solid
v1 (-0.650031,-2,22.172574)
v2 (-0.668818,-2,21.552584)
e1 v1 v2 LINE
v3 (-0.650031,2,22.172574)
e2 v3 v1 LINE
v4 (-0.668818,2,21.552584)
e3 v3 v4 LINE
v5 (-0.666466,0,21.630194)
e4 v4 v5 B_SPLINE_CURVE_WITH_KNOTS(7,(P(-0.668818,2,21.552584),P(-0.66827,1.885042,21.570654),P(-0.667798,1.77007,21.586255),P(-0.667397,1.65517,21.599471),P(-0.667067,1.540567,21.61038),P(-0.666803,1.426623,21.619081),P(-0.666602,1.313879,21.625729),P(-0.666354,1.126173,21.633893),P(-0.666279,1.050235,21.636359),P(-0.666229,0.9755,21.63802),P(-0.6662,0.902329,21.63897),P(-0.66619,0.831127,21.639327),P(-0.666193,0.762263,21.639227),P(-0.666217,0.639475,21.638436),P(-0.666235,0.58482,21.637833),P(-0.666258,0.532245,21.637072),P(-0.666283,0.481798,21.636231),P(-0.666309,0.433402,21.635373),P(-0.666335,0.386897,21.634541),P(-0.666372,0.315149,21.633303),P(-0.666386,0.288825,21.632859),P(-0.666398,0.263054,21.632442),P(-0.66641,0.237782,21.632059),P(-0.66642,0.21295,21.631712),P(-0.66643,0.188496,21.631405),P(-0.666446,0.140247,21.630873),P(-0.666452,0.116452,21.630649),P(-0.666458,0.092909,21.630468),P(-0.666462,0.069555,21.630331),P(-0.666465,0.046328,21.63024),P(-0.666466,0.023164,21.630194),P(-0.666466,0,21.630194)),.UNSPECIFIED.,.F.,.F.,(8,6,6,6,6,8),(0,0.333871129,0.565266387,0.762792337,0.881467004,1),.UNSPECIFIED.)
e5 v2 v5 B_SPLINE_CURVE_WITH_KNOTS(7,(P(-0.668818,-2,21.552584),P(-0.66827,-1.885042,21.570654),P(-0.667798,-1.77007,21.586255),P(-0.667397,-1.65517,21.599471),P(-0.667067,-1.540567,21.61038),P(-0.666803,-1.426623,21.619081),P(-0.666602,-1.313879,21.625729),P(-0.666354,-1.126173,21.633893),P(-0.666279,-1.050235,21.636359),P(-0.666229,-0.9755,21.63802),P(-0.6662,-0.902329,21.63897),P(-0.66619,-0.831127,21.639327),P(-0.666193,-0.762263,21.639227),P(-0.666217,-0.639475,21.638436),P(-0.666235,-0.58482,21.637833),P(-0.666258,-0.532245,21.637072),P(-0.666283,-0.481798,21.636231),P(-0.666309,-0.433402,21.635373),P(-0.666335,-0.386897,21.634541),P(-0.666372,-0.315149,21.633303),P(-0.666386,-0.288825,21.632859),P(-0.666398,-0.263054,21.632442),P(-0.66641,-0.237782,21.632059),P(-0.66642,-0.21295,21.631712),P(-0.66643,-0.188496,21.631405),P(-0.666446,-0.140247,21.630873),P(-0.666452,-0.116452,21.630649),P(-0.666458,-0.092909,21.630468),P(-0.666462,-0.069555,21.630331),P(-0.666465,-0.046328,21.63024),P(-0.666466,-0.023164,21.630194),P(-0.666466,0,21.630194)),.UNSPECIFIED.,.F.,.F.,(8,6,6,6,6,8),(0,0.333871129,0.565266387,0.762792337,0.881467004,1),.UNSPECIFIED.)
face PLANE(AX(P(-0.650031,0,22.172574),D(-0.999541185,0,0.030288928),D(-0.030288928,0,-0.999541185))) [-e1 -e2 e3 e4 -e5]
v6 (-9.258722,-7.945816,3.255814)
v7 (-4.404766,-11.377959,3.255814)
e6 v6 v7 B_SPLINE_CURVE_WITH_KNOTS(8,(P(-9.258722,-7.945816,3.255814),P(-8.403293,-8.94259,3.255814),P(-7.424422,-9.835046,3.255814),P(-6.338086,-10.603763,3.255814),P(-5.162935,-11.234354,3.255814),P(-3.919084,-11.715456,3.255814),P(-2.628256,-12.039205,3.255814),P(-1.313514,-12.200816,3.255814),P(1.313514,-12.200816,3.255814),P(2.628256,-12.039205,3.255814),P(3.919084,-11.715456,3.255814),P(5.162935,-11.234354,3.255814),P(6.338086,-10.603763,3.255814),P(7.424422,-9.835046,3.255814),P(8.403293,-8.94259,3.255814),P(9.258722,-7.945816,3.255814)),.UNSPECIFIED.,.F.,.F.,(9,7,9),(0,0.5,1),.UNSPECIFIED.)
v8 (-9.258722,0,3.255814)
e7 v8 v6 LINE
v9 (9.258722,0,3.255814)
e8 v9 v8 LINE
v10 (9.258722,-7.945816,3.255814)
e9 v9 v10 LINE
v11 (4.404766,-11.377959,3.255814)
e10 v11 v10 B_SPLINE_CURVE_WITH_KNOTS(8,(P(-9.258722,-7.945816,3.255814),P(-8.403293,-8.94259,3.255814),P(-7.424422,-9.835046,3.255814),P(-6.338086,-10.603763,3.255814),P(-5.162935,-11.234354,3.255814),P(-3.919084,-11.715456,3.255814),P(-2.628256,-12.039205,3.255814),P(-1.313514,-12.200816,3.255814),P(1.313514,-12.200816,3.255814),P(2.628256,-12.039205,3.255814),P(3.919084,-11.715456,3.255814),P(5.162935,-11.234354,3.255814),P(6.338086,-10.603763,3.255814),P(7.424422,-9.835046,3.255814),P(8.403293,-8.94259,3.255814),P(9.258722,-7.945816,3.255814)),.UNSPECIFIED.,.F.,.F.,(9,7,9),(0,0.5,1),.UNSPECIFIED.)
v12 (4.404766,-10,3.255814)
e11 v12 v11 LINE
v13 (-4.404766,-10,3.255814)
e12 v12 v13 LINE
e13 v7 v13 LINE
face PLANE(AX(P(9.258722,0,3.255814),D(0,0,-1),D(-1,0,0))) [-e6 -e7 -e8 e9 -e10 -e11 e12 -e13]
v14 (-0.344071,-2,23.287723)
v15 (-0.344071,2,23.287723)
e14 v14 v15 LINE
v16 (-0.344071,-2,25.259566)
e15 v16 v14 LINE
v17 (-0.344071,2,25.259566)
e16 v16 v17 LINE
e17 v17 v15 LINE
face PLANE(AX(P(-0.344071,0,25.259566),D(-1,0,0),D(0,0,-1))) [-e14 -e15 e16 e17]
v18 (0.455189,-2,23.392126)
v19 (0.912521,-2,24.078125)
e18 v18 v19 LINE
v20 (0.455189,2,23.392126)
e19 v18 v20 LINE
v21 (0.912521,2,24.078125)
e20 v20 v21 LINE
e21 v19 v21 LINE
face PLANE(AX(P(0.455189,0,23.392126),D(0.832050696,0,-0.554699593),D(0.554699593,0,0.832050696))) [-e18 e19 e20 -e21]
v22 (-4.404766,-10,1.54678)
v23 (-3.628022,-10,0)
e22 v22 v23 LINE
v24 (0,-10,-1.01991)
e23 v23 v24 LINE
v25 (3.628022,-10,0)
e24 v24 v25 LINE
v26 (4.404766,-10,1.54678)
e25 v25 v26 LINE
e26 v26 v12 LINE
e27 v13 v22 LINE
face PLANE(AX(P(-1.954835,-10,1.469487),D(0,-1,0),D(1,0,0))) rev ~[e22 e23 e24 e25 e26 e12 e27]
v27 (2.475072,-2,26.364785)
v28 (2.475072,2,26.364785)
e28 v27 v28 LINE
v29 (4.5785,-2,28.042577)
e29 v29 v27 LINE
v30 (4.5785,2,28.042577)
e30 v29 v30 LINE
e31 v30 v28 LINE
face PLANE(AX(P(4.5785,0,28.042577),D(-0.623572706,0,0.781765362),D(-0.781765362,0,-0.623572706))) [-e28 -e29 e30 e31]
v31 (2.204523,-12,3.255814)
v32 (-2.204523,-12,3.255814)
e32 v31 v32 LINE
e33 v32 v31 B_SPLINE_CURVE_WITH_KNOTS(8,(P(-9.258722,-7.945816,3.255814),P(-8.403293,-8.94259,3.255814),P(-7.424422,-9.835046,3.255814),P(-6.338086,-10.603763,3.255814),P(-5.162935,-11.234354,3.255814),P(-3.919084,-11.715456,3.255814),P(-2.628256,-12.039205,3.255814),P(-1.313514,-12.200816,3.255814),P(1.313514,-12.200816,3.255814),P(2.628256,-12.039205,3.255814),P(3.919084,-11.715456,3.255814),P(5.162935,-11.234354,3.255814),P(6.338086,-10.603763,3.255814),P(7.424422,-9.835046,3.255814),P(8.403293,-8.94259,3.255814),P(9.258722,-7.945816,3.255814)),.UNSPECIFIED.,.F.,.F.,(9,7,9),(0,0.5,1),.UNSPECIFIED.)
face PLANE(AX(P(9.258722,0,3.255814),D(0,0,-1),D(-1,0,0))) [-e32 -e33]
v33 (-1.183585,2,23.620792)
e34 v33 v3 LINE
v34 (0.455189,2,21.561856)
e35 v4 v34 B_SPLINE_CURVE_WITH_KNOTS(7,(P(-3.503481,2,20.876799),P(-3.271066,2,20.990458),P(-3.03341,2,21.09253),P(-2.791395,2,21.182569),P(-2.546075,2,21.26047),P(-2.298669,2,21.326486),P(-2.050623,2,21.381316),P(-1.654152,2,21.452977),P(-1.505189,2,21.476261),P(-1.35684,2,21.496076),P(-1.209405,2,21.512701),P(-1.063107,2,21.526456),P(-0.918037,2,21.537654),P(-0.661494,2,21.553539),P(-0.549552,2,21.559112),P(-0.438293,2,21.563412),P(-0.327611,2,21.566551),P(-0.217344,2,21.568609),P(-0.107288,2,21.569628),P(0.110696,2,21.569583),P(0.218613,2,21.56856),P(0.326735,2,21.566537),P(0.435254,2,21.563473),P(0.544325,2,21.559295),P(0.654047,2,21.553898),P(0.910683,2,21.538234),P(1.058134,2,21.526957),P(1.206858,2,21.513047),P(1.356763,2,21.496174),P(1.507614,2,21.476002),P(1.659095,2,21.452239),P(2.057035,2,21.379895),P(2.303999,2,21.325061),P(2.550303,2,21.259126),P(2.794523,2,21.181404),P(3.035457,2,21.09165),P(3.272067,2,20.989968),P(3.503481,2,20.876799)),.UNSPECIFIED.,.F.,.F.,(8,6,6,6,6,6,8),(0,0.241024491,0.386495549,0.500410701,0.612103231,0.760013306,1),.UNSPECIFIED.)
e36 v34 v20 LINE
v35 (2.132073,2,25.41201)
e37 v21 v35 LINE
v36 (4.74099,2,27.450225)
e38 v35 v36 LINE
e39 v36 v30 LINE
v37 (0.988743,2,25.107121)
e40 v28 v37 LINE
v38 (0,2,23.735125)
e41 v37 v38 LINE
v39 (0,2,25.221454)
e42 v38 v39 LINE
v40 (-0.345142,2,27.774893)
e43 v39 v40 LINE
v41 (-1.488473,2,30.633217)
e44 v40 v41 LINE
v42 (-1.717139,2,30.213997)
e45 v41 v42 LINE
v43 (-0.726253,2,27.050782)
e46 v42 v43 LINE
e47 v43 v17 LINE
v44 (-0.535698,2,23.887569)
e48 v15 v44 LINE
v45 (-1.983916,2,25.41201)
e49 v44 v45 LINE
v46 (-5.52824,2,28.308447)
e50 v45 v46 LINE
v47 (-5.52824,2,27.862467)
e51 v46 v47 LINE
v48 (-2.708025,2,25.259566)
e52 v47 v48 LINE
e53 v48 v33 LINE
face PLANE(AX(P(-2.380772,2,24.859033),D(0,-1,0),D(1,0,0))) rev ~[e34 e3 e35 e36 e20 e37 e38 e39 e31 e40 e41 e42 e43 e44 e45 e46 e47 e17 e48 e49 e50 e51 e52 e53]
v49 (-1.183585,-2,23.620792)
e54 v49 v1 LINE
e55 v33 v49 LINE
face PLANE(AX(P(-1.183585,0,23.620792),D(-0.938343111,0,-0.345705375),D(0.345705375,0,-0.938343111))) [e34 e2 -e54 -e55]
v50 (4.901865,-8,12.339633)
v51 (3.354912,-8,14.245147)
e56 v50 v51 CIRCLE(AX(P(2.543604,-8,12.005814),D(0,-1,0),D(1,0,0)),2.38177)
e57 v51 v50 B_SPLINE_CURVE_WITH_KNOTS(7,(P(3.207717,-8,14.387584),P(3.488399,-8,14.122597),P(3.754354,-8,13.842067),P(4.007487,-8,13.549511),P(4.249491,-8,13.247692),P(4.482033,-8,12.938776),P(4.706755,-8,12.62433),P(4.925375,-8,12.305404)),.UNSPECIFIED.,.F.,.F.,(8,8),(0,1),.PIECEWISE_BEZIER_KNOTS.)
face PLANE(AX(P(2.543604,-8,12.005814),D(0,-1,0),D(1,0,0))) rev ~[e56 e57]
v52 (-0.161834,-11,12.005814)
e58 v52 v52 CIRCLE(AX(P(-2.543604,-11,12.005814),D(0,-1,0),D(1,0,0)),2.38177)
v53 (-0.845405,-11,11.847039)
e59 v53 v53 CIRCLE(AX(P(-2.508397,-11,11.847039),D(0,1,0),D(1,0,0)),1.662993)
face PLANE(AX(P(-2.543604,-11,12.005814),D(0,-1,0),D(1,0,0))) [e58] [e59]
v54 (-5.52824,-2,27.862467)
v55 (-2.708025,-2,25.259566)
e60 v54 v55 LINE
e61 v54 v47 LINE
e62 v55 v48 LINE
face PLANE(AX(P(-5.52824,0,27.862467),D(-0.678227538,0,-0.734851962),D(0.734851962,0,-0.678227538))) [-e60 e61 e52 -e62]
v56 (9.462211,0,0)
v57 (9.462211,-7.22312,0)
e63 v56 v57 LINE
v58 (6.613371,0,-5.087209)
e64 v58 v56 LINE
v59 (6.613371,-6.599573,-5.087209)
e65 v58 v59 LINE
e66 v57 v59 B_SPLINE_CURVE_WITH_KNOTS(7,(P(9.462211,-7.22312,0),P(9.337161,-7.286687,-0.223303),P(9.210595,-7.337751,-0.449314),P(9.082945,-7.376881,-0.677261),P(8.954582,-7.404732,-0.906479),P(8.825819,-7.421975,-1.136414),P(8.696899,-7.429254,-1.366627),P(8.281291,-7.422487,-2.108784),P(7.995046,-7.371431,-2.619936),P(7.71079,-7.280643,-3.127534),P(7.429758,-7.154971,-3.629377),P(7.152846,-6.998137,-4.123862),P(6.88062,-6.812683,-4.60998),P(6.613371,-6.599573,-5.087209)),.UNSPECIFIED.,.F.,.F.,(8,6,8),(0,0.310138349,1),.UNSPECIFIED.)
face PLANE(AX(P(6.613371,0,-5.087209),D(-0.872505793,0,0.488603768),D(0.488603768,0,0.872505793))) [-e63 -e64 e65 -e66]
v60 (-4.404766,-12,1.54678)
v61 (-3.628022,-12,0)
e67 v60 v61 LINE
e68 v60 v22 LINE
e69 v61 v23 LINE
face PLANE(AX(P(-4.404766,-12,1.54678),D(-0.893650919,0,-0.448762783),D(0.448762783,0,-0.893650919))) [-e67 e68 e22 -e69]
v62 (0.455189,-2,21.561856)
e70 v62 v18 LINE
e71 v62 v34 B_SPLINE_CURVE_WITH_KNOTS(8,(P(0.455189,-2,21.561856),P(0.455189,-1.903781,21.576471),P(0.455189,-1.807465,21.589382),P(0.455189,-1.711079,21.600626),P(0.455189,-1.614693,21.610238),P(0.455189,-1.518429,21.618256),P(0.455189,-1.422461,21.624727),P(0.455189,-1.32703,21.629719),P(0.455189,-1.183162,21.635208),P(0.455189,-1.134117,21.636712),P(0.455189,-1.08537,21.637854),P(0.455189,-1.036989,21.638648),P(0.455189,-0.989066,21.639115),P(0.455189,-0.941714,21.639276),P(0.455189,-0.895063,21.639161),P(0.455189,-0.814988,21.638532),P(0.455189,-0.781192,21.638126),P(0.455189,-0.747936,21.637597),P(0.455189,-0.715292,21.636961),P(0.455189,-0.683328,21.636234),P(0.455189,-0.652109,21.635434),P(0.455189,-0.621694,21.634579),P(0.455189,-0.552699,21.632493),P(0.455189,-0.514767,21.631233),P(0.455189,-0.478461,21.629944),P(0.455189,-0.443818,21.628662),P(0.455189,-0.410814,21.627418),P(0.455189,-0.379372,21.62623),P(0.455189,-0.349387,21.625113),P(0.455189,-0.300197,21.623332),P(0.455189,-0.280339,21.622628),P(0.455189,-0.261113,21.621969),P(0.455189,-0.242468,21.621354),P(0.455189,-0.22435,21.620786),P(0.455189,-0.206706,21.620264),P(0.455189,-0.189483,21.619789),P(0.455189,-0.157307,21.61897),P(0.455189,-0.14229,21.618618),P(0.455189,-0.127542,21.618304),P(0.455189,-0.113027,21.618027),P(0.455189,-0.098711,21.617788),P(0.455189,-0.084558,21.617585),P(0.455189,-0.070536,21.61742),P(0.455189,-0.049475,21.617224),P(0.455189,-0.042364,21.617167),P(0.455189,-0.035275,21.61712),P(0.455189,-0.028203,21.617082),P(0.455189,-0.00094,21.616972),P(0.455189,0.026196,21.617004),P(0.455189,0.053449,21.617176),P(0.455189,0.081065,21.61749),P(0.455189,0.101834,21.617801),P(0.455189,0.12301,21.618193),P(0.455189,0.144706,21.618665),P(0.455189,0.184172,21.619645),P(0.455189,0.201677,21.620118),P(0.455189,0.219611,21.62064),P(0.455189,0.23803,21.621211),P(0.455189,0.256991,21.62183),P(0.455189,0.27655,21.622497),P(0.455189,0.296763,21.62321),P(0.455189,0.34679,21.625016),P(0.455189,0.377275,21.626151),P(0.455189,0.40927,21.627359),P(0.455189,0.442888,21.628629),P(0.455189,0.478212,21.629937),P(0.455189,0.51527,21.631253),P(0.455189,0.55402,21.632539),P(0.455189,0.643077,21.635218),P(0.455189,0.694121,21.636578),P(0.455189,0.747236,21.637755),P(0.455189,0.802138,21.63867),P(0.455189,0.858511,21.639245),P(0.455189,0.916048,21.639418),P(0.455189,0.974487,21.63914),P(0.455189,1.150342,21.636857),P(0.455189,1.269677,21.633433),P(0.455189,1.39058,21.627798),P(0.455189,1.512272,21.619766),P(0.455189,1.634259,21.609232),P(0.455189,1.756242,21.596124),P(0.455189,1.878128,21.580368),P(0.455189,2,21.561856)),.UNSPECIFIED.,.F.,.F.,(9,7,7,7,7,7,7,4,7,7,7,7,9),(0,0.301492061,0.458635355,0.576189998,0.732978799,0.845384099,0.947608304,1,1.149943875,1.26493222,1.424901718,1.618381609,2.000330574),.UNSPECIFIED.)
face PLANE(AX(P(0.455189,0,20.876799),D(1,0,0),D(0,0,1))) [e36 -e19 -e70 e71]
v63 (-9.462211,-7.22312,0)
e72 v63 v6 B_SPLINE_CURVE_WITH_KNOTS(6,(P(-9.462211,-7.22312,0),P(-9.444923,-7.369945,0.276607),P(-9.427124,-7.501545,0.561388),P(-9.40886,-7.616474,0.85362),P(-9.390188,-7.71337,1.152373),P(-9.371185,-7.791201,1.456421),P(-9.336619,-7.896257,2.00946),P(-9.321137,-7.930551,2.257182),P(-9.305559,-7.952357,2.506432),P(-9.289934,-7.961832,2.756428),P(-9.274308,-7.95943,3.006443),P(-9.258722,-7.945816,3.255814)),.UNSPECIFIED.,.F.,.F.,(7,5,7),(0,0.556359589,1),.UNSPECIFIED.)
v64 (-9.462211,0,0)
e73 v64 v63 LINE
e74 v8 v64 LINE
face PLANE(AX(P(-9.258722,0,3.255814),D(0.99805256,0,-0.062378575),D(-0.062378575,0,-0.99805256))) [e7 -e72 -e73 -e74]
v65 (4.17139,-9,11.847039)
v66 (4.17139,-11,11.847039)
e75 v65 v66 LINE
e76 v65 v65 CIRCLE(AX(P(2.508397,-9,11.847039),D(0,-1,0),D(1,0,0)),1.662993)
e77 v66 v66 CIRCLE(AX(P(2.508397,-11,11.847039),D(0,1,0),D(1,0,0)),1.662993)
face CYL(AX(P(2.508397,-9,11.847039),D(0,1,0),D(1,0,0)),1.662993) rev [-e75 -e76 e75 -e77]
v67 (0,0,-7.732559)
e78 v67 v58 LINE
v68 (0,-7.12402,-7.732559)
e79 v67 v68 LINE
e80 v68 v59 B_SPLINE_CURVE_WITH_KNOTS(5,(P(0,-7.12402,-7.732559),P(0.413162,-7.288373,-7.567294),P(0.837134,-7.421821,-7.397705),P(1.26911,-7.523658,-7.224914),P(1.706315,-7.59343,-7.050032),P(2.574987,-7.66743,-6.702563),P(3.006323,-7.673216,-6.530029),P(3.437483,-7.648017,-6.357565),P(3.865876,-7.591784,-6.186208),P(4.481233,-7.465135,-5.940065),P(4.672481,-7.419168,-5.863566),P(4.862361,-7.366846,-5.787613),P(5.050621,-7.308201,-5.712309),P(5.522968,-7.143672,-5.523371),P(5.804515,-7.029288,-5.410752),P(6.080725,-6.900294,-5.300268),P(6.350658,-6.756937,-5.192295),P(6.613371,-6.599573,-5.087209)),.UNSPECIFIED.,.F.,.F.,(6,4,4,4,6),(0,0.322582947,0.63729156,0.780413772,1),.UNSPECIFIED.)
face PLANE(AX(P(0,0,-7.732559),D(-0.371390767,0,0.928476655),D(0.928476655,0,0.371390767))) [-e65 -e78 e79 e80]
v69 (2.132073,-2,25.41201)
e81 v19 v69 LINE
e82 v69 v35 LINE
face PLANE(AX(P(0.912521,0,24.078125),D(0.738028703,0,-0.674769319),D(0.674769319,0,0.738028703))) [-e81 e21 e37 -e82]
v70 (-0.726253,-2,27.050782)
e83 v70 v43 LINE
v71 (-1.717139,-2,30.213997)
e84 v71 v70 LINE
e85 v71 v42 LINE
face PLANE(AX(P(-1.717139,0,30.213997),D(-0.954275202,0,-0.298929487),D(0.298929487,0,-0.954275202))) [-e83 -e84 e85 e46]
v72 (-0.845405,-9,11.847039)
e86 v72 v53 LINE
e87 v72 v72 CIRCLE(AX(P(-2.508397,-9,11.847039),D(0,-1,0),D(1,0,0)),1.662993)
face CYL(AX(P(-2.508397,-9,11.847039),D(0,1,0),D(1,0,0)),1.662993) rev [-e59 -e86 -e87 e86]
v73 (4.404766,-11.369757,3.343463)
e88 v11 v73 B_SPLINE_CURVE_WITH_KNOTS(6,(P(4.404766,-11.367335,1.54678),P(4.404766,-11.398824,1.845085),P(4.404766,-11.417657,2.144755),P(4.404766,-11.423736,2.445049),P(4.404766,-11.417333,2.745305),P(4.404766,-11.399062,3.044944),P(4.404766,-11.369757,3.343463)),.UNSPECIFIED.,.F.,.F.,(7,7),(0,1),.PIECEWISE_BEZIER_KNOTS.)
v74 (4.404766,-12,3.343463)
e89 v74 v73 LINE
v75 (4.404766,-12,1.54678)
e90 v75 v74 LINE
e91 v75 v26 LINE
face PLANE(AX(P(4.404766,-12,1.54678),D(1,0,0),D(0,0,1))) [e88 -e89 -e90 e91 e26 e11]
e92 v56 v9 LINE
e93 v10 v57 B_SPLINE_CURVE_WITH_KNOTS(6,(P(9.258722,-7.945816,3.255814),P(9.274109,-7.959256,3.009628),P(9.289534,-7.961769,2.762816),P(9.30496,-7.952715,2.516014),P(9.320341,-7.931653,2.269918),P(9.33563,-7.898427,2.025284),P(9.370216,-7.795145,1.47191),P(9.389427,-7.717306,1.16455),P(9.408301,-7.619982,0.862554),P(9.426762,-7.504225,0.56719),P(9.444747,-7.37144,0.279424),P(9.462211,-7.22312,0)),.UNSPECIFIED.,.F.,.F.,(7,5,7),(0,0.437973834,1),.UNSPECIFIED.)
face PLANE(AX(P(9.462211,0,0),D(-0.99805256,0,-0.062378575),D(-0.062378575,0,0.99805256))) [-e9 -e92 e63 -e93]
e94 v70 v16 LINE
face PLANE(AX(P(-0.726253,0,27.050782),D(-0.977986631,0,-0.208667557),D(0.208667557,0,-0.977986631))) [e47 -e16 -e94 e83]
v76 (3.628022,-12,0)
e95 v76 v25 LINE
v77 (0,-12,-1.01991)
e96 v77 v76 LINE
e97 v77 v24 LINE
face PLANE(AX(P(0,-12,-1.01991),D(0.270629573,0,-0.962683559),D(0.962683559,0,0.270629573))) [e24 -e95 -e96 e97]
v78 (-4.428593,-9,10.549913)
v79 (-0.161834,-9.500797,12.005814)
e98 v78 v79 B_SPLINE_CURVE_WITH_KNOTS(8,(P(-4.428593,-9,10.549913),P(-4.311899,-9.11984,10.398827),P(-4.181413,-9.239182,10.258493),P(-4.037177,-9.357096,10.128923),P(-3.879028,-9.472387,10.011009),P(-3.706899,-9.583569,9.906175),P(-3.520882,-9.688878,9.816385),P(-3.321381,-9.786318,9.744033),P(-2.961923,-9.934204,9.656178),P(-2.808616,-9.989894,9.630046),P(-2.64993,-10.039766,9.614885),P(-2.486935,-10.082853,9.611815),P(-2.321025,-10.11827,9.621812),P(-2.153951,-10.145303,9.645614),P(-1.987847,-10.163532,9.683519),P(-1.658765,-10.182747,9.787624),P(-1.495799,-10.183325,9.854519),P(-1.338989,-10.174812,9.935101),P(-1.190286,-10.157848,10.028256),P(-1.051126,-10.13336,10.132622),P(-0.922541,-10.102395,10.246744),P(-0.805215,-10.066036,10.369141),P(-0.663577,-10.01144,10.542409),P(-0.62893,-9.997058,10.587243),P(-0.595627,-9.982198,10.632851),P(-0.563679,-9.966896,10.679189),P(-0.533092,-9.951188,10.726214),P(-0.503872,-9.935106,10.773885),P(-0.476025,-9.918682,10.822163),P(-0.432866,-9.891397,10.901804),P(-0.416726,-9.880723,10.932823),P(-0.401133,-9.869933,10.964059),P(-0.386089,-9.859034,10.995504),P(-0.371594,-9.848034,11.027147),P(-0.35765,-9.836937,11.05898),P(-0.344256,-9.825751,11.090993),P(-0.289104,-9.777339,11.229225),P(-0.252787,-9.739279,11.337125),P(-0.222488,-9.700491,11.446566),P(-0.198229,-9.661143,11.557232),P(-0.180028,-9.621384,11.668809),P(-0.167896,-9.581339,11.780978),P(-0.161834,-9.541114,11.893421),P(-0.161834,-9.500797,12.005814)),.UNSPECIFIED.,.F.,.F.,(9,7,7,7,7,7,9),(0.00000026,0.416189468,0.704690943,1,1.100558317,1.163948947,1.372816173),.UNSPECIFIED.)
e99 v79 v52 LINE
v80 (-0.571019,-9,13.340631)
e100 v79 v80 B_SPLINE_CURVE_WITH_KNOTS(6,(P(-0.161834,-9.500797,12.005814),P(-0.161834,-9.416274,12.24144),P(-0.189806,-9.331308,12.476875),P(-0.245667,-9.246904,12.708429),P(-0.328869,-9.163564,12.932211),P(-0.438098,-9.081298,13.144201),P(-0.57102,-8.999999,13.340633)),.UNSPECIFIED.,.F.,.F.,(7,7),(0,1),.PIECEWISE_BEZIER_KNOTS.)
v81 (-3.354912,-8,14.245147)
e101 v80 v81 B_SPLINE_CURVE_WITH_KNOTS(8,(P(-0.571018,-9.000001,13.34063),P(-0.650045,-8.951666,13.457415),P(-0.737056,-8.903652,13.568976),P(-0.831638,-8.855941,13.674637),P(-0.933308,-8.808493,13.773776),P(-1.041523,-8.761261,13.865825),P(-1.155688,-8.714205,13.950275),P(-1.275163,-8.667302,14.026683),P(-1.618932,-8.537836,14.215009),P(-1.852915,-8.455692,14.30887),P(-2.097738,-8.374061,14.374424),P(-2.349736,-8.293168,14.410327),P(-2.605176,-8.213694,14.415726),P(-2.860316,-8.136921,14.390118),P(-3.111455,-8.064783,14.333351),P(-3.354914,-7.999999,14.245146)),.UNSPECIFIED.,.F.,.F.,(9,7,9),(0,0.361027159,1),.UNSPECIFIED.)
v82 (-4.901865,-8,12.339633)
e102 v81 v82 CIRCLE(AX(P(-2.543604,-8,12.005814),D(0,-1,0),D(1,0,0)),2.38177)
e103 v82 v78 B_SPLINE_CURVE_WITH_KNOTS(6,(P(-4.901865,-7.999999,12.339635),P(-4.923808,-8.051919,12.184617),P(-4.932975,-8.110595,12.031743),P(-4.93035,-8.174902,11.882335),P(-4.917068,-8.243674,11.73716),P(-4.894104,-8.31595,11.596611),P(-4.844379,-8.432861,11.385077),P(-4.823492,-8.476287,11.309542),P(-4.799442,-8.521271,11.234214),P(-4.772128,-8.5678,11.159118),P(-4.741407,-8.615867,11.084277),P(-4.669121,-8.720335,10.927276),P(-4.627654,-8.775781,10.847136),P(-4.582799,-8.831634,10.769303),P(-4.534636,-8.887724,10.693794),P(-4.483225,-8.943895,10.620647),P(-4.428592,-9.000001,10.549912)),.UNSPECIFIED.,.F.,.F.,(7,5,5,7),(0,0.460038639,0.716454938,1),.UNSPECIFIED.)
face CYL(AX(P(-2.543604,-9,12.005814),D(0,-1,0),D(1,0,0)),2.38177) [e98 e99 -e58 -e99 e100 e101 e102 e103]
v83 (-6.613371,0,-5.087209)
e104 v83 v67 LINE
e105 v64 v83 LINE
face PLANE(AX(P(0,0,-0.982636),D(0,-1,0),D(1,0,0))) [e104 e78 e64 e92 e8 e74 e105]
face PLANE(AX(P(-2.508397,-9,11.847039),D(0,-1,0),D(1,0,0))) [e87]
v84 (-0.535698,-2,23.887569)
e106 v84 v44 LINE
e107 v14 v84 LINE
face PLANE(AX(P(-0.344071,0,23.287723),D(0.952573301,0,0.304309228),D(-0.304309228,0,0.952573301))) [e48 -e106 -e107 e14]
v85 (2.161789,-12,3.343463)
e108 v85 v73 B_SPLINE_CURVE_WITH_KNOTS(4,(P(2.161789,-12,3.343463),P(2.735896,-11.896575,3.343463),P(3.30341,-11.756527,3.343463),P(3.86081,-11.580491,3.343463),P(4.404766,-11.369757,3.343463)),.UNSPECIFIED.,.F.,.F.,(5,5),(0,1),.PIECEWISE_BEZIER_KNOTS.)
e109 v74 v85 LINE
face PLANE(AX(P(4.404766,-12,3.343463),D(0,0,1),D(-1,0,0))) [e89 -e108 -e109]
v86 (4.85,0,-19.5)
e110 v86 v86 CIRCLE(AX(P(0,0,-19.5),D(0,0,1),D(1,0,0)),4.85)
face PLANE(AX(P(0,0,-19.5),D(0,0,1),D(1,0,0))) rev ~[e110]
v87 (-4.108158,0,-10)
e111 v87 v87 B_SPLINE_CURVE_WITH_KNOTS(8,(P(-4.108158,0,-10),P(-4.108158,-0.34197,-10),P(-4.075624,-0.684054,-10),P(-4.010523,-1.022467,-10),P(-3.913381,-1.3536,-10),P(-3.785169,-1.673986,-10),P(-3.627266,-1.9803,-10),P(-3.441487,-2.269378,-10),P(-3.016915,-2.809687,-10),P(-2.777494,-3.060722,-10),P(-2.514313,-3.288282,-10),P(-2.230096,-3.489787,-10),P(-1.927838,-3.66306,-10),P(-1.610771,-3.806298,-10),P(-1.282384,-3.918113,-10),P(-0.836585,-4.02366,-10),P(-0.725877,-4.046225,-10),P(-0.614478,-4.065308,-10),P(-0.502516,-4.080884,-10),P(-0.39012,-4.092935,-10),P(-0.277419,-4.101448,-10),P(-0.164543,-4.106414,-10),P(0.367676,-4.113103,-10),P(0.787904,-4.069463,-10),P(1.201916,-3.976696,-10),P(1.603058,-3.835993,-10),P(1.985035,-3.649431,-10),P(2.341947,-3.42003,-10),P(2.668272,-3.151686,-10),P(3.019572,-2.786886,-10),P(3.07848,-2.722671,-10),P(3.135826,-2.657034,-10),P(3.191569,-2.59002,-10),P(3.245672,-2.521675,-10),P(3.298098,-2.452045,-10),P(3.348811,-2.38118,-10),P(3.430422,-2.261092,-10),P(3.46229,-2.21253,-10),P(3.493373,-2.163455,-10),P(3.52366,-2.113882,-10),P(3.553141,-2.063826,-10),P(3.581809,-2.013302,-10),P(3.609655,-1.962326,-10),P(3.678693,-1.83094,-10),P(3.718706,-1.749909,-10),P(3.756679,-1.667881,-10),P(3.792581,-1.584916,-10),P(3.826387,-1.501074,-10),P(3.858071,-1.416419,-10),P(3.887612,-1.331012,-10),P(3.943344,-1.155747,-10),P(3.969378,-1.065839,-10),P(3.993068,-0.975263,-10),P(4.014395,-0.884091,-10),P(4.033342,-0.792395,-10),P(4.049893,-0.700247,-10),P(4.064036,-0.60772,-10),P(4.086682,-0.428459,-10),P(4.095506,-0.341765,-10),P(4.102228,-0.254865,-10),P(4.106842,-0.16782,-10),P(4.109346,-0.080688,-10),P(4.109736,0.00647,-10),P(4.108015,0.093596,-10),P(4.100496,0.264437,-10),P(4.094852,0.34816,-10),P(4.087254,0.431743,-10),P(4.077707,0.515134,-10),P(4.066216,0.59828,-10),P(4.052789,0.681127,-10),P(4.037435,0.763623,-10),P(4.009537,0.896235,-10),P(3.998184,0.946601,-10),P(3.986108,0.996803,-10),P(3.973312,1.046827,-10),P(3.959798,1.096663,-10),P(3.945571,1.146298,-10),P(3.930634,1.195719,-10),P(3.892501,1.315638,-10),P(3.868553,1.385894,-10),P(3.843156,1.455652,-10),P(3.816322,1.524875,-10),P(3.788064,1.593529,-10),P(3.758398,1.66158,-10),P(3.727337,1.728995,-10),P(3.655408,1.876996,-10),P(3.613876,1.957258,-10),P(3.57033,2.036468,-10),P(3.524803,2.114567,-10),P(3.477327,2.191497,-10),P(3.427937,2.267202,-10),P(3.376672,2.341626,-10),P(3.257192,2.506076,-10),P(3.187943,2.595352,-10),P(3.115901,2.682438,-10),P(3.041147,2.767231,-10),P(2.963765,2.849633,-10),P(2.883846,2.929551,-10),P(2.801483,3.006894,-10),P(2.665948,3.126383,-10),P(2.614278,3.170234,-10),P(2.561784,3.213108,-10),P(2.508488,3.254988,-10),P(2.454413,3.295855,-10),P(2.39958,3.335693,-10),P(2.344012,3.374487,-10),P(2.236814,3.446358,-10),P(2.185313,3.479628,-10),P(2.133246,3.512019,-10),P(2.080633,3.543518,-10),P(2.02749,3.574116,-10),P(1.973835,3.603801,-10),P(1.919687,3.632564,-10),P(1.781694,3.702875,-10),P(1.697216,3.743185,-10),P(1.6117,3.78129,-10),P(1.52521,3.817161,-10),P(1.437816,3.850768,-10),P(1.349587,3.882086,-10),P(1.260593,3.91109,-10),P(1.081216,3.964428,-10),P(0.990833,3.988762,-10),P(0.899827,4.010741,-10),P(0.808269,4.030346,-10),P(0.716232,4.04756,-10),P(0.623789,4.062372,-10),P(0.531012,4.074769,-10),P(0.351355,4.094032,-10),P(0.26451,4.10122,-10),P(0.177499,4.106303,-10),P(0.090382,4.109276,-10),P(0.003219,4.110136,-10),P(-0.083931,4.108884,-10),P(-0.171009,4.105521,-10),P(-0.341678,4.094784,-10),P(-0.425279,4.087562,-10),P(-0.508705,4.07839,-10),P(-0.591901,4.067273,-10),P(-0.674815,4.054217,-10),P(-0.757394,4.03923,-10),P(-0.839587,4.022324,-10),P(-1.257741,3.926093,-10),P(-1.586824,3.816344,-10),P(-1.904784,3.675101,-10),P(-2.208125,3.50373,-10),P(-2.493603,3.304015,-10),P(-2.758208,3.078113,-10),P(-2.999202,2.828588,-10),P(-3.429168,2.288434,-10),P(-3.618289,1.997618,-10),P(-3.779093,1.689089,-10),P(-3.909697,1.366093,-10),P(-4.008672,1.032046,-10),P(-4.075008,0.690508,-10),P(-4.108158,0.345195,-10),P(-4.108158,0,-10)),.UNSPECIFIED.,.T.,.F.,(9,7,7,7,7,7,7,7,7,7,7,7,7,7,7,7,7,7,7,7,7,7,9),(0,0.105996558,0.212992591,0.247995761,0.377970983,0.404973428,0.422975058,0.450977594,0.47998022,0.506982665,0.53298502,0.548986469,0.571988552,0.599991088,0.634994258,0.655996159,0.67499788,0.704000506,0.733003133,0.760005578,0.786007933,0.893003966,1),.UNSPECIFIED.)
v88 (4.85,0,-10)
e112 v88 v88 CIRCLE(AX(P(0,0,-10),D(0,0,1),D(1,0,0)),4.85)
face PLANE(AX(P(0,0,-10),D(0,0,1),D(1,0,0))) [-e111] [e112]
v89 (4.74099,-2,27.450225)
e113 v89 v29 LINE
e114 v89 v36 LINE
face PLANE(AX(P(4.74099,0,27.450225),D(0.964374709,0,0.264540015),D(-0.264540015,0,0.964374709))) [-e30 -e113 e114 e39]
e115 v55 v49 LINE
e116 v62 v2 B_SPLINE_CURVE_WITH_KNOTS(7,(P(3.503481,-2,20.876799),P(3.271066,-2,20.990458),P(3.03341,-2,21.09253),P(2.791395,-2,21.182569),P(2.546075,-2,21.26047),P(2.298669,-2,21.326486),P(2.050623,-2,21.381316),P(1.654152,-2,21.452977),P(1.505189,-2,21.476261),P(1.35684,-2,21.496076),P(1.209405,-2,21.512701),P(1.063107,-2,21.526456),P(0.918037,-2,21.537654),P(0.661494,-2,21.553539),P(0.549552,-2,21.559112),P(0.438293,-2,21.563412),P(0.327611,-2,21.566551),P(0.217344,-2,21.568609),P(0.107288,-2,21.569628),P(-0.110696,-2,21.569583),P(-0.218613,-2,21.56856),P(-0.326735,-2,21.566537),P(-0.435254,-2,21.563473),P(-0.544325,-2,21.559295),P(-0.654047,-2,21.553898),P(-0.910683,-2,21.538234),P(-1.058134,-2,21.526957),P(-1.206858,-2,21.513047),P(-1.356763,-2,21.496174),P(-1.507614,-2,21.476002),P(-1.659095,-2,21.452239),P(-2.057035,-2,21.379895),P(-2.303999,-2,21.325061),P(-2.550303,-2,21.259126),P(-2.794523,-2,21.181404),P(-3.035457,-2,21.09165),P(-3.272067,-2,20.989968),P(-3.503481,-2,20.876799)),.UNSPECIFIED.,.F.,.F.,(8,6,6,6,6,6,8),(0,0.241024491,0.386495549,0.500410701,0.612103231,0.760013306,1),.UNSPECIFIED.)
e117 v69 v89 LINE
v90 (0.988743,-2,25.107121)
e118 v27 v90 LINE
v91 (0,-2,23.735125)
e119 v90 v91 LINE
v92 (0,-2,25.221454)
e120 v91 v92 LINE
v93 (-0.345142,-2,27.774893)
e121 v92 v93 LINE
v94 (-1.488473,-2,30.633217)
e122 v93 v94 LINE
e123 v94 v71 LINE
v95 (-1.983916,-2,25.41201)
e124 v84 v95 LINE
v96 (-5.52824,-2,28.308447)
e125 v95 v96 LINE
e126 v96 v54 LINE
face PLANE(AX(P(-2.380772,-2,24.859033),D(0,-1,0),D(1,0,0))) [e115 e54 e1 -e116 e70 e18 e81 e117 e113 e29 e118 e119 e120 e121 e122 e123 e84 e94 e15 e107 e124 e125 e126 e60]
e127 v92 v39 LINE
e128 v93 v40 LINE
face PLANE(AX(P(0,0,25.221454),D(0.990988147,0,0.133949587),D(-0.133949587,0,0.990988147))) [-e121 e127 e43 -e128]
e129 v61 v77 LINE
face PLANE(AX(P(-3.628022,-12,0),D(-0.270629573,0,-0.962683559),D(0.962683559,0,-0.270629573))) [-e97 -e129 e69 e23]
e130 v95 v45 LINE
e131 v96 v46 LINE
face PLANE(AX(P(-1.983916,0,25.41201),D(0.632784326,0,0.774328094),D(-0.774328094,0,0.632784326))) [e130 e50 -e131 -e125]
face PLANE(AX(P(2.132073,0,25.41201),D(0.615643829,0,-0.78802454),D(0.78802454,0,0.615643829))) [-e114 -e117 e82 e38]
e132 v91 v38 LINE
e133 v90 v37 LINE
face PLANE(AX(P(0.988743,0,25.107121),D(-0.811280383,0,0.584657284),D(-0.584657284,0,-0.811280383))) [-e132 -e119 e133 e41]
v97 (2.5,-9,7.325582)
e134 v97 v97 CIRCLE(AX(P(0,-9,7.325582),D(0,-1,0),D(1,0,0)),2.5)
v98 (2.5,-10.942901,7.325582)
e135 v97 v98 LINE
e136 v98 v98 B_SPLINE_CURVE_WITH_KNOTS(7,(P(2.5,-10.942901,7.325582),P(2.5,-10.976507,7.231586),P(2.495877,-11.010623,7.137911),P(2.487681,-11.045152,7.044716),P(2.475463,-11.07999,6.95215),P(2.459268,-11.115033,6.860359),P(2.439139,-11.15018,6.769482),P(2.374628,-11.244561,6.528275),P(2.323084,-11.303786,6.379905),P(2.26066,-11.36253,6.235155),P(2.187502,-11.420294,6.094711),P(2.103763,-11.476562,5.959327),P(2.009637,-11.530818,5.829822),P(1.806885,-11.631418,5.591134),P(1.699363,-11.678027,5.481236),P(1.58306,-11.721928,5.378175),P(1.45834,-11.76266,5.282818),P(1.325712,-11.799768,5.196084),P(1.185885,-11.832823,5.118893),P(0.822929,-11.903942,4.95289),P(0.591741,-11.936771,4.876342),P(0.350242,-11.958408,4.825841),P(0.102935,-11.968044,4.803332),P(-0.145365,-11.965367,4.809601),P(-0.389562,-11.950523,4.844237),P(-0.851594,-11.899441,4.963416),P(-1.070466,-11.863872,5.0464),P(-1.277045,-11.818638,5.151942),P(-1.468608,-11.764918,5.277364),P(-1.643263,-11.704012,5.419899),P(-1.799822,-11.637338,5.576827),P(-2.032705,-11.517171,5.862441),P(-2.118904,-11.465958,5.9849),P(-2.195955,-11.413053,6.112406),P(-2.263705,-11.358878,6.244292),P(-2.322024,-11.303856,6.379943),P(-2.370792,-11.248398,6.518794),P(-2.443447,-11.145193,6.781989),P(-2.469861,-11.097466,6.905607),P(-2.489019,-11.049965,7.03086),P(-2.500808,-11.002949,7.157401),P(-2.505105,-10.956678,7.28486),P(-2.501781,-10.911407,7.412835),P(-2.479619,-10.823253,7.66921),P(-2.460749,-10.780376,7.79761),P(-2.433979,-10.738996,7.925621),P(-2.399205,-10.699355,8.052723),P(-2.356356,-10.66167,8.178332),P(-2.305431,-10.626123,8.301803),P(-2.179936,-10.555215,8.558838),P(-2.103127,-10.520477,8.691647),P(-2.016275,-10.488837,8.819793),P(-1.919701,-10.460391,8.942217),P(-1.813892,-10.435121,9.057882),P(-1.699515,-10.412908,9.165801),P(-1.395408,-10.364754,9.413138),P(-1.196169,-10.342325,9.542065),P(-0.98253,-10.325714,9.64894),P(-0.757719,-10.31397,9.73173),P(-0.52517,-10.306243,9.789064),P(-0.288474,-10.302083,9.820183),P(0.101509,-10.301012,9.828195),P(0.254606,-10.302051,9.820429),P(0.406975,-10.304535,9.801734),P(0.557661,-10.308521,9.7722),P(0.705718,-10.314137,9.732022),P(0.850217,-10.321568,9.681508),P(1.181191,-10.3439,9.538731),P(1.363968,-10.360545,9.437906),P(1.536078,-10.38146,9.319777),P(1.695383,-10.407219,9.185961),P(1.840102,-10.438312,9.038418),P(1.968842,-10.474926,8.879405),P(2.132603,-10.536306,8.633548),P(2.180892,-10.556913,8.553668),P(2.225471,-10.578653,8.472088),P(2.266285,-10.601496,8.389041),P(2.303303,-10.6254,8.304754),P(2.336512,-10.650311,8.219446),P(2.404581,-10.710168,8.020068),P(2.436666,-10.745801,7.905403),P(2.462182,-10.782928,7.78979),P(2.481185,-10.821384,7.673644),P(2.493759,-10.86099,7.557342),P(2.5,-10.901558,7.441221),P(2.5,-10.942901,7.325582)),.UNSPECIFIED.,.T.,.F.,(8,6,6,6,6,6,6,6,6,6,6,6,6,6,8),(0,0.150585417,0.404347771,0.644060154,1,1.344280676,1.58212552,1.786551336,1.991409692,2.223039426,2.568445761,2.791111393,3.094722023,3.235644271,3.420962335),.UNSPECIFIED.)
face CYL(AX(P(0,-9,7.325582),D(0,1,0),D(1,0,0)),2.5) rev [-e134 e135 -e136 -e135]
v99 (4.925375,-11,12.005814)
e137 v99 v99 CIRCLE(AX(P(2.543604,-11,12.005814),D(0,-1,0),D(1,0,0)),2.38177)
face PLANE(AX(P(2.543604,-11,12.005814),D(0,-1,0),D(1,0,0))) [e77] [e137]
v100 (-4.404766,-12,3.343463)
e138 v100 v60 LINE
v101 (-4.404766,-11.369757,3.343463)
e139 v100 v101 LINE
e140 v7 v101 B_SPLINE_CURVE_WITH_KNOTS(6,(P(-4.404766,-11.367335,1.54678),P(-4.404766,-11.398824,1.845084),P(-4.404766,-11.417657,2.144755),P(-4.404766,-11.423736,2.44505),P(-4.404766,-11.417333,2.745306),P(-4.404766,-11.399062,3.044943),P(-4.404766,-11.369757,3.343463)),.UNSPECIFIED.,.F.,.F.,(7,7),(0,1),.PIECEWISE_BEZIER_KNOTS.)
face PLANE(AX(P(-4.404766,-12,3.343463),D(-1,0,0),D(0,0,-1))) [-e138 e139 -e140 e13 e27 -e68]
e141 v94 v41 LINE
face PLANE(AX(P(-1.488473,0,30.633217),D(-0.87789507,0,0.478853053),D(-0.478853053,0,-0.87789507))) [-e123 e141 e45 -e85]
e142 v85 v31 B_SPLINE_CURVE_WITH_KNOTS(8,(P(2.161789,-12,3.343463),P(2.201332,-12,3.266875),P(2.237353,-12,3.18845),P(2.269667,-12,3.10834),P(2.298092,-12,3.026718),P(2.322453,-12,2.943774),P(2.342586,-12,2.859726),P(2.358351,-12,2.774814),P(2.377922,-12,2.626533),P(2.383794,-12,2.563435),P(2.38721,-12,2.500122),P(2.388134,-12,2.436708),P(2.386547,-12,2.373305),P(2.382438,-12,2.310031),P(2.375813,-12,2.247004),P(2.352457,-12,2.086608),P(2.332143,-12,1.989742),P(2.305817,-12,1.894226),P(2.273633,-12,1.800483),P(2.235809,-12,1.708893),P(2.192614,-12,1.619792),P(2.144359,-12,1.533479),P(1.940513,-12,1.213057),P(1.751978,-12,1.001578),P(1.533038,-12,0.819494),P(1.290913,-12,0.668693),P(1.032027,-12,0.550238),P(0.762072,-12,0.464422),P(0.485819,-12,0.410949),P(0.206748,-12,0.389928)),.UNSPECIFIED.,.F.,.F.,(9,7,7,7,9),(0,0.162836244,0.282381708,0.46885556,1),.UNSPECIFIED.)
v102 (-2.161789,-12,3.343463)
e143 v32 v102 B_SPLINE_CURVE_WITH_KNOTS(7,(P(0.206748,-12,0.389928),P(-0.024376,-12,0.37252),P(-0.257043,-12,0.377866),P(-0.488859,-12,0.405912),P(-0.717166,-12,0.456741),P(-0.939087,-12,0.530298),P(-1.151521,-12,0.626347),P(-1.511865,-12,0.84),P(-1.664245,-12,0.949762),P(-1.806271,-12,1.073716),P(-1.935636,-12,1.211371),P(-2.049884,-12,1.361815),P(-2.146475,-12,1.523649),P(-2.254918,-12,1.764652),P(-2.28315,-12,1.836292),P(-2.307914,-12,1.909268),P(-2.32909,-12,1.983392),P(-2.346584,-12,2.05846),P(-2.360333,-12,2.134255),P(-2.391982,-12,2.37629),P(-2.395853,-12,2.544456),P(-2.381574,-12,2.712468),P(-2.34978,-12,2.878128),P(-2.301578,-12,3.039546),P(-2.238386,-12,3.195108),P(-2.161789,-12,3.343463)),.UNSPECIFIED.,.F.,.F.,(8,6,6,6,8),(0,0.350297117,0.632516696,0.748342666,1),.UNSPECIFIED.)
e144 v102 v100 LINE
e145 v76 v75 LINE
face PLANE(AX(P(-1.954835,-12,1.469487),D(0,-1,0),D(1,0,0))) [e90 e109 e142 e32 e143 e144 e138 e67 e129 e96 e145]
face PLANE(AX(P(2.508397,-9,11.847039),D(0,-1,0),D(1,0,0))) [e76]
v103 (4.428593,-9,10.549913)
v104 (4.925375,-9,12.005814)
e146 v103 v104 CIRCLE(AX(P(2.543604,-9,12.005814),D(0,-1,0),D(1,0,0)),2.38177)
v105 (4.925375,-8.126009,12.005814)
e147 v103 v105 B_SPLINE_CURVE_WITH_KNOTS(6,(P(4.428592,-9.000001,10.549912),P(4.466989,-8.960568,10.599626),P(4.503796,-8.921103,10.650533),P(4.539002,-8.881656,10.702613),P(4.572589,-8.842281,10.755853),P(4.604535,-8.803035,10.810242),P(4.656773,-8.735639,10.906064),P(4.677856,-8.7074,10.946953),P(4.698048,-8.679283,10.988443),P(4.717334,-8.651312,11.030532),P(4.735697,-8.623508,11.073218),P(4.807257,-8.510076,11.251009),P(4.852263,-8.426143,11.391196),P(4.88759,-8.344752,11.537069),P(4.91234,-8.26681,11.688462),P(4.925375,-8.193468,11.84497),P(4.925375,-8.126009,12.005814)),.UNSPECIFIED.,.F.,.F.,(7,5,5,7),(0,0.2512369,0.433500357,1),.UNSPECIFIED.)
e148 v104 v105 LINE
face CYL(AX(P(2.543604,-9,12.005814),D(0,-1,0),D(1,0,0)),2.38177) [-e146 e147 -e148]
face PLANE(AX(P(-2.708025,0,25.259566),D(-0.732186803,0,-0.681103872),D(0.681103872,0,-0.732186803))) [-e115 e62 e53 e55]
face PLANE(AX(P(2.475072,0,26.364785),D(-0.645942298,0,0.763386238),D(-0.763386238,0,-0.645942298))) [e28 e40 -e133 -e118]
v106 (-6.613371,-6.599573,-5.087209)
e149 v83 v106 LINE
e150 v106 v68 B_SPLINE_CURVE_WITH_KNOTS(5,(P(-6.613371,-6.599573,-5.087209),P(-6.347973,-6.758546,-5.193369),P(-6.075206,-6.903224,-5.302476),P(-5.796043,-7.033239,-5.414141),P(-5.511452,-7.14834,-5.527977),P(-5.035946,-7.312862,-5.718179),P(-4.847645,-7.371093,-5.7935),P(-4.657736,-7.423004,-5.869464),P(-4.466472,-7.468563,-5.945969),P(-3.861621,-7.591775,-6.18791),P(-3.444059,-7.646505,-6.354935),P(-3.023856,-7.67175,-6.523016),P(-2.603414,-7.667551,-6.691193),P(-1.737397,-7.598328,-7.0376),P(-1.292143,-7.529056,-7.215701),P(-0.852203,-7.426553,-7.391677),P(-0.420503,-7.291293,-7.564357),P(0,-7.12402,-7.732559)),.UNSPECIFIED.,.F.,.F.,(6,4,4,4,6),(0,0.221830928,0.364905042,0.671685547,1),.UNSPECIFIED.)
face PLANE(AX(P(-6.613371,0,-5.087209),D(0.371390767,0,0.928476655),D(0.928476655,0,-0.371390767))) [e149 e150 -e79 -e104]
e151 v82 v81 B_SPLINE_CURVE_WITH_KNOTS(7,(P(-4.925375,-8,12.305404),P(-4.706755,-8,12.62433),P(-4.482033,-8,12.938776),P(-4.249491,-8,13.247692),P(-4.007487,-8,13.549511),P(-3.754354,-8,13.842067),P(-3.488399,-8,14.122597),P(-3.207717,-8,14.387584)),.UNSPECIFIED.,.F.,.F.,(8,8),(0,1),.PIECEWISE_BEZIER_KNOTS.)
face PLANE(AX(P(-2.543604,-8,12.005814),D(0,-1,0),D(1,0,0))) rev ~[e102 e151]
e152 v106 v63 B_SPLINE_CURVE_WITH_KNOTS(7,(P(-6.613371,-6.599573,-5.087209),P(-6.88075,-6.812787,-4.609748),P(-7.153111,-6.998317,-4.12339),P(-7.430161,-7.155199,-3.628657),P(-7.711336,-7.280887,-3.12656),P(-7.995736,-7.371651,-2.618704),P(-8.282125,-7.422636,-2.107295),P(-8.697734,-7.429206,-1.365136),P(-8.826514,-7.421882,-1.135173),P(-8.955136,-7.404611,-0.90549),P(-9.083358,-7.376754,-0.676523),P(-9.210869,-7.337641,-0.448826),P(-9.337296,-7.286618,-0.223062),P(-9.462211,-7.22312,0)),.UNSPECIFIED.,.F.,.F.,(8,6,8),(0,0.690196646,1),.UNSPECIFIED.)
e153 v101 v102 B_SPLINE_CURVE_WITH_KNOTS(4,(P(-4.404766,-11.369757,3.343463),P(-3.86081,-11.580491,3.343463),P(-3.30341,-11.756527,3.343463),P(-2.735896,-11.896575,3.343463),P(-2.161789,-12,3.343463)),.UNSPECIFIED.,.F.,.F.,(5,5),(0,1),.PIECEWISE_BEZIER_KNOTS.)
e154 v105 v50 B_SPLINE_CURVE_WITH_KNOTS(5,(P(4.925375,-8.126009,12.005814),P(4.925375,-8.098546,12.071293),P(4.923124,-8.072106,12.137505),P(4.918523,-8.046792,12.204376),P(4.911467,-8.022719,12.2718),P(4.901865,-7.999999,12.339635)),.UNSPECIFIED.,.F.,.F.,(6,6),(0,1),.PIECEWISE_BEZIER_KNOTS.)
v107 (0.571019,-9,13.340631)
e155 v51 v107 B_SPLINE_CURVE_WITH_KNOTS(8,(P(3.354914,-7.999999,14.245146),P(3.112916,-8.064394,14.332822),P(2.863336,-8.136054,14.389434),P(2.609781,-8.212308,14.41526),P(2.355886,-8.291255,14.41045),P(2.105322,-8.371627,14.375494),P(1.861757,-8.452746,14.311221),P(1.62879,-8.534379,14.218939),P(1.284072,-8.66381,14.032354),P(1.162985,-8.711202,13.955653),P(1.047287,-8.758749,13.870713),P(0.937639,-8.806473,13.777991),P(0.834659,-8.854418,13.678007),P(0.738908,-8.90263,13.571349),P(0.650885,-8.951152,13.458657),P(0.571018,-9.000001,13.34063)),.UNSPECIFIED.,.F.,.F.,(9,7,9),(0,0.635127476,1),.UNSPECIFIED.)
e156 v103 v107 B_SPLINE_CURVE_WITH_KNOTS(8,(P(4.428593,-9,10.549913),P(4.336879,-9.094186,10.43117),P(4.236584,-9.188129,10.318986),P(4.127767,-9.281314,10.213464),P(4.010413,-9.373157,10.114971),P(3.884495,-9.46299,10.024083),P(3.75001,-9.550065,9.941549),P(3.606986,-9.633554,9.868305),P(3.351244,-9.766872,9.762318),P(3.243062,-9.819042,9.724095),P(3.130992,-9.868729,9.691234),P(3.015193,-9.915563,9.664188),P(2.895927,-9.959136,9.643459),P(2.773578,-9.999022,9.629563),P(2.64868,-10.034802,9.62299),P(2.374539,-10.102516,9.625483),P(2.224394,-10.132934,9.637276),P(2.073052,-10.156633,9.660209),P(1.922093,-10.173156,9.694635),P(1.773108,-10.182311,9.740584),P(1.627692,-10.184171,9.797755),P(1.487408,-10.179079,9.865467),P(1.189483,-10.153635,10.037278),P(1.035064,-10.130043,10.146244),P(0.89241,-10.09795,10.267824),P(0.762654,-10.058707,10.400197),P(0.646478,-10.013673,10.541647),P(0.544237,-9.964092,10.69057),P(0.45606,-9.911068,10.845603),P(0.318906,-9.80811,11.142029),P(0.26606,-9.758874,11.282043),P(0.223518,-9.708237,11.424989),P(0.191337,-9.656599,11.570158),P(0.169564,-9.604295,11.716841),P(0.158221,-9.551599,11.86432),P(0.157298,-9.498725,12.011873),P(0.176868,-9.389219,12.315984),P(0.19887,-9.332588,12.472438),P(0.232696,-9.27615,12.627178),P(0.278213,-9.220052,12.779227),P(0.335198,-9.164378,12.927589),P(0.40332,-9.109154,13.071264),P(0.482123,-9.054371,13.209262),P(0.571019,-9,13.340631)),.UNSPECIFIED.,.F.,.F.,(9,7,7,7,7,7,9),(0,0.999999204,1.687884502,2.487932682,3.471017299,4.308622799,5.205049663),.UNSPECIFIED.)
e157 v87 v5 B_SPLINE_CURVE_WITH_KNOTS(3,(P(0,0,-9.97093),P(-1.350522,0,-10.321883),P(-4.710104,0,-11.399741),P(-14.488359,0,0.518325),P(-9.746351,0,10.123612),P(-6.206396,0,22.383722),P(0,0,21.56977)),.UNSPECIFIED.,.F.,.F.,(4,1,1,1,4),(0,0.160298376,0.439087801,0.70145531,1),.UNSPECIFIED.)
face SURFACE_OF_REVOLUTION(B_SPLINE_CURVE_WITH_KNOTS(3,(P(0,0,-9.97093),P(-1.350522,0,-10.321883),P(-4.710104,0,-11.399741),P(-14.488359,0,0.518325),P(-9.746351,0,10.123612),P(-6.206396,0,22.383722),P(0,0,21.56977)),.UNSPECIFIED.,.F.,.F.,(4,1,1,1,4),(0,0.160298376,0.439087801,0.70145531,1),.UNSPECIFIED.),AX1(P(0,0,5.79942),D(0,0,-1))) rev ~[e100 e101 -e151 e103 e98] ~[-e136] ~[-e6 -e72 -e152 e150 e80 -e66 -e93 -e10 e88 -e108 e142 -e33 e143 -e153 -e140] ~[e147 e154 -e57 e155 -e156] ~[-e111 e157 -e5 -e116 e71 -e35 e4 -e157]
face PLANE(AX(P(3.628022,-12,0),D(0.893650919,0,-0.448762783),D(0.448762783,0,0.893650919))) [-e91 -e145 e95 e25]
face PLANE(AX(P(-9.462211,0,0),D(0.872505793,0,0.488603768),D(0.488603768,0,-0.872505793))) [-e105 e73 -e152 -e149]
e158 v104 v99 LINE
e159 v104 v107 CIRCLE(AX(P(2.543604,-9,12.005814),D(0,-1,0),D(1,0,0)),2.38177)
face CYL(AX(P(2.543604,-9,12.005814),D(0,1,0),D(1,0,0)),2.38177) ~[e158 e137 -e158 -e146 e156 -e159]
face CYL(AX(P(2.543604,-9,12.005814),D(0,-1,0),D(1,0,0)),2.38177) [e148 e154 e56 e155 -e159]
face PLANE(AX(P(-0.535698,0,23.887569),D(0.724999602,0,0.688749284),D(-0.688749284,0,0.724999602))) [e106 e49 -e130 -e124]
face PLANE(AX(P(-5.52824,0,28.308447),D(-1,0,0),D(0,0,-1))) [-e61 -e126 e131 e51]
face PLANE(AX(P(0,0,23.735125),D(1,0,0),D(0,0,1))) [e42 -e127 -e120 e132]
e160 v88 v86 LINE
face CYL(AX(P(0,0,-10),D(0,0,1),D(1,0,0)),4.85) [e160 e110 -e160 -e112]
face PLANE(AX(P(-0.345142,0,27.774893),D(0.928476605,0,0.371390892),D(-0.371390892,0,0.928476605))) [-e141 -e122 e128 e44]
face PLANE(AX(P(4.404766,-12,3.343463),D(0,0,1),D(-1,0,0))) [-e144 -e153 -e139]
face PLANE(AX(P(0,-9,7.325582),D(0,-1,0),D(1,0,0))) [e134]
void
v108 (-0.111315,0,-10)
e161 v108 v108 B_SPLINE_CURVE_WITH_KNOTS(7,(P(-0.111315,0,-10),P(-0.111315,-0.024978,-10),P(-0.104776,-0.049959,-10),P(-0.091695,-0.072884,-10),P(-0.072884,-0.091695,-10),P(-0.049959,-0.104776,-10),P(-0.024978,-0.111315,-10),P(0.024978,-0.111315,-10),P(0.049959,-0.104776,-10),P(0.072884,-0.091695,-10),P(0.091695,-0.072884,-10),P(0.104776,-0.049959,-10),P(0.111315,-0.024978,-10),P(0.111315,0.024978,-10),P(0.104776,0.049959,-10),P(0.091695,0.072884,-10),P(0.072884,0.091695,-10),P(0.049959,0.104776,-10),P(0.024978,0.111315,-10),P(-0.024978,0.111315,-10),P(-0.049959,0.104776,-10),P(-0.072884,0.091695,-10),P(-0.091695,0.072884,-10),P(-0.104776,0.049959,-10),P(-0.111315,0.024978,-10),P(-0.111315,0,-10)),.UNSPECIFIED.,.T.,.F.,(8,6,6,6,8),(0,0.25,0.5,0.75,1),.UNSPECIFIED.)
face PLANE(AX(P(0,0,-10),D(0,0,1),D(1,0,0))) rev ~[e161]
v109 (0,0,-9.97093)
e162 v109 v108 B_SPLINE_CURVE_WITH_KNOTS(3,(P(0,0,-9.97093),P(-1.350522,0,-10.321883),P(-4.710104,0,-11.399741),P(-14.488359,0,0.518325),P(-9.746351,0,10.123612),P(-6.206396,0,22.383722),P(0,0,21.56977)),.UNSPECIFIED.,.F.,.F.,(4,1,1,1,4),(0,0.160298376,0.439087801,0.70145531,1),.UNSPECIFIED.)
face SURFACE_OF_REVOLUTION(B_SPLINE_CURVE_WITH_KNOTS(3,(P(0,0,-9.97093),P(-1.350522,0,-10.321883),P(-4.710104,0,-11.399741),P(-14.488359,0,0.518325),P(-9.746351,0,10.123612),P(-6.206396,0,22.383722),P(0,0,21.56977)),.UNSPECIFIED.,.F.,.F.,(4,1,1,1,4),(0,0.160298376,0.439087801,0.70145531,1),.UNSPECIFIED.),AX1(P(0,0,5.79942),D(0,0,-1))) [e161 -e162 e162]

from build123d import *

# Parameters (mm, degrees)
F1_R      = 4.85
F2_DEPTH  = 9.5
F6_R      = 2.5
F7_DEPTH  = 5
F8_R      = 2.3817700771
F9_DEPTH  = 2
F10_DEPTH = 1
F11_R     = 1.6629928967
F12_DEPTH = 10
F14_DEPTH = 13
F17_DEPTH = 2
F19_DEPTH = 2
F20_DEPTH = 2


with BuildPart() as f2:
    # F1 (on offset) → F2 (new body)
    with BuildSketch(Plane.XY.offset(-10)):
        Circle(F1_R)
    extrude(amount=-F2_DEPTH)

    # F3 (on Front) → F4 (revolve)
    with BuildSketch(Plane.XZ):
        with BuildLine():
            add(Edge.make_bspline(
                [(0, -9.970930405), (-1.3505217005, -10.321882545), (-4.7101037613, -11.3997414842), (-14.4883586925, 0.5183248415), (-9.7463505302, 10.1236115349), (-6.2063955702, 22.3837215453), (0, 21.5697698295)],
                knots=[0, 0, 0, 0, 0.1602983763, 0.4390878008, 0.7014553095, 1, 1, 1, 1], degree=3))
            Line((0, -9.970930405), (0, 21.5697698295))
        make_face()
    revolve(axis=Axis((0, 0, 5.7994197123), (0, 0, -1)))

    # F6 (on offset) → F7 (cut)
    with BuildSketch(Plane.XZ.offset(9)):
        with Locations((0, 7.3255817406)):
            Circle(F6_R)
    extrude(amount=F7_DEPTH, mode=Mode.SUBTRACT)

    # F8 (on offset) → F9 (join)
    with BuildSketch(Plane.XZ.offset(9)):
        with Locations((-2.5436044671, 12.0058143511)):
            Circle(F8_R)
        with Locations((2.5436044671, 12.0058143511)):
            Circle(F8_R)
    extrude(amount=F9_DEPTH)

    # F8 (on offset) → F10 (join)
    with BuildSketch(Plane.XZ.offset(9)):
        with Locations((-2.5436044671, 12.0058143511)):
            Circle(F8_R)
        with Locations((2.5436044671, 12.0058143511)):
            Circle(F8_R)
    extrude(amount=-F10_DEPTH)

    # F11 (on offset) → F12 (cut)
    with BuildSketch(Plane.XZ.offset(9)):
        with Locations((-2.5083974469, 11.8470387533)):
            Circle(F11_R)
        with Locations((2.5083974469, 11.8470387533)):
            Circle(F11_R)
    extrude(amount=F12_DEPTH, mode=Mode.SUBTRACT)

    # F13 (on Front) → F14 (cut)
    with BuildSketch(Plane.XZ):
        Polygon((8.6482558399, 3.2558140811), (-8.6482558399, 3.2558140811), (-9.2587219551, 3.2558140811), (-9.4622112811, 0), (-6.6133709624, -5.0872093998), (0, -7.7325585298), (6.6133709624, -5.0872093998), (9.4622112811, 0), (9.2587219551, 3.2558140811), align=None)
    extrude(amount=F14_DEPTH, mode=Mode.SUBTRACT)

    # F16 (on offset) → F17 (join)
    with BuildSketch(Plane.XZ.offset(12)):
        Polygon((0, 3.343462944), (-4.4047655538, 3.343462944), (-4.4047655538, 1.5467801131), (-3.6280222703, 0), (0, -1.0199095123), align=None)
        Polygon((4.4047655538, 3.343462944), (0, 3.343462944), (0, -1.0199095123), (3.6280222703, 0), (4.4047655538, 1.5467801131), align=None)
    extrude(amount=-F17_DEPTH)

    # F18 (on Front) → F19 (join)
    with BuildSketch(Plane.XZ):
        Polygon((-2.7080250438, 25.259565562), (-1.1835845653, 23.6207917333), (-0.650030619, 22.1725739539), (-0.6881413865, 20.9149103612), (-0.3440706932, 20.9530210122), (-0.3440706932, 23.2877233856), (-0.5356975016, 23.8875690848), (-1.9839156885, 25.412010029), (-5.528239999, 28.3084474504), (-5.528239999, 27.8624672941), align=None)
        Polygon((-0.3440706932, 23.2877233856), (-0.3440706932, 20.9530210122), (0, 20.9911316633), (0, 22.2106855363), align=None)
        Polygon((0, 22.2106855363), (0, 20.9911316633), (0.4551889142, 20.8767987788), (0.4551889142, 23.3921259642), (0.9125209763, 24.0781251341), (2.1320732776, 25.412010029), (4.7409896982, 27.4502248463), (4.5785000548, 28.0425772071), (2.4750723969, 26.3647846878), (0.9887429187, 25.1071210951), (0, 23.7351246178), align=None)
        Polygon((-0.3440706932, 25.259565562), (-0.3440706932, 23.2877233856), (0, 22.2106855363), (0, 23.7351246178), (0, 25.2214539796), (-0.3451424418, 27.7748927474), (-1.4884728007, 30.6332167238), (-1.7171388026, 30.213996768), (-0.7262525614, 27.0507819951), align=None)
    extrude(amount=F19_DEPTH)

    # F18 (on Front) → F20 (join)
    with BuildSketch(Plane.XZ):
        Polygon((-2.7080250438, 25.259565562), (-1.1835845653, 23.6207917333), (-0.650030619, 22.1725739539), (-0.6881413865, 20.9149103612), (-0.3440706932, 20.9530210122), (-0.3440706932, 23.2877233856), (-0.5356975016, 23.8875690848), (-1.9839156885, 25.412010029), (-5.528239999, 28.3084474504), (-5.528239999, 27.8624672941), align=None)
        Polygon((-0.3440706932, 23.2877233856), (-0.3440706932, 20.9530210122), (0, 20.9911316633), (0, 22.2106855363), align=None)
        Polygon((0, 22.2106855363), (0, 20.9911316633), (0.4551889142, 20.8767987788), (0.4551889142, 23.3921259642), (0.9125209763, 24.0781251341), (2.1320732776, 25.412010029), (4.7409896982, 27.4502248463), (4.5785000548, 28.0425772071), (2.4750723969, 26.3647846878), (0.9887429187, 25.1071210951), (0, 23.7351246178), align=None)
        Polygon((-0.3440706932, 25.259565562), (-0.3440706932, 23.2877233856), (0, 22.2106855363), (0, 23.7351246178), (0, 25.2214539796), (-0.3451424418, 27.7748927474), (-1.4884728007, 30.6332167238), (-1.7171388026, 30.213996768), (-0.7262525614, 27.0507819951), align=None)
    extrude(amount=-F20_DEPTH)


solid = f2.part
